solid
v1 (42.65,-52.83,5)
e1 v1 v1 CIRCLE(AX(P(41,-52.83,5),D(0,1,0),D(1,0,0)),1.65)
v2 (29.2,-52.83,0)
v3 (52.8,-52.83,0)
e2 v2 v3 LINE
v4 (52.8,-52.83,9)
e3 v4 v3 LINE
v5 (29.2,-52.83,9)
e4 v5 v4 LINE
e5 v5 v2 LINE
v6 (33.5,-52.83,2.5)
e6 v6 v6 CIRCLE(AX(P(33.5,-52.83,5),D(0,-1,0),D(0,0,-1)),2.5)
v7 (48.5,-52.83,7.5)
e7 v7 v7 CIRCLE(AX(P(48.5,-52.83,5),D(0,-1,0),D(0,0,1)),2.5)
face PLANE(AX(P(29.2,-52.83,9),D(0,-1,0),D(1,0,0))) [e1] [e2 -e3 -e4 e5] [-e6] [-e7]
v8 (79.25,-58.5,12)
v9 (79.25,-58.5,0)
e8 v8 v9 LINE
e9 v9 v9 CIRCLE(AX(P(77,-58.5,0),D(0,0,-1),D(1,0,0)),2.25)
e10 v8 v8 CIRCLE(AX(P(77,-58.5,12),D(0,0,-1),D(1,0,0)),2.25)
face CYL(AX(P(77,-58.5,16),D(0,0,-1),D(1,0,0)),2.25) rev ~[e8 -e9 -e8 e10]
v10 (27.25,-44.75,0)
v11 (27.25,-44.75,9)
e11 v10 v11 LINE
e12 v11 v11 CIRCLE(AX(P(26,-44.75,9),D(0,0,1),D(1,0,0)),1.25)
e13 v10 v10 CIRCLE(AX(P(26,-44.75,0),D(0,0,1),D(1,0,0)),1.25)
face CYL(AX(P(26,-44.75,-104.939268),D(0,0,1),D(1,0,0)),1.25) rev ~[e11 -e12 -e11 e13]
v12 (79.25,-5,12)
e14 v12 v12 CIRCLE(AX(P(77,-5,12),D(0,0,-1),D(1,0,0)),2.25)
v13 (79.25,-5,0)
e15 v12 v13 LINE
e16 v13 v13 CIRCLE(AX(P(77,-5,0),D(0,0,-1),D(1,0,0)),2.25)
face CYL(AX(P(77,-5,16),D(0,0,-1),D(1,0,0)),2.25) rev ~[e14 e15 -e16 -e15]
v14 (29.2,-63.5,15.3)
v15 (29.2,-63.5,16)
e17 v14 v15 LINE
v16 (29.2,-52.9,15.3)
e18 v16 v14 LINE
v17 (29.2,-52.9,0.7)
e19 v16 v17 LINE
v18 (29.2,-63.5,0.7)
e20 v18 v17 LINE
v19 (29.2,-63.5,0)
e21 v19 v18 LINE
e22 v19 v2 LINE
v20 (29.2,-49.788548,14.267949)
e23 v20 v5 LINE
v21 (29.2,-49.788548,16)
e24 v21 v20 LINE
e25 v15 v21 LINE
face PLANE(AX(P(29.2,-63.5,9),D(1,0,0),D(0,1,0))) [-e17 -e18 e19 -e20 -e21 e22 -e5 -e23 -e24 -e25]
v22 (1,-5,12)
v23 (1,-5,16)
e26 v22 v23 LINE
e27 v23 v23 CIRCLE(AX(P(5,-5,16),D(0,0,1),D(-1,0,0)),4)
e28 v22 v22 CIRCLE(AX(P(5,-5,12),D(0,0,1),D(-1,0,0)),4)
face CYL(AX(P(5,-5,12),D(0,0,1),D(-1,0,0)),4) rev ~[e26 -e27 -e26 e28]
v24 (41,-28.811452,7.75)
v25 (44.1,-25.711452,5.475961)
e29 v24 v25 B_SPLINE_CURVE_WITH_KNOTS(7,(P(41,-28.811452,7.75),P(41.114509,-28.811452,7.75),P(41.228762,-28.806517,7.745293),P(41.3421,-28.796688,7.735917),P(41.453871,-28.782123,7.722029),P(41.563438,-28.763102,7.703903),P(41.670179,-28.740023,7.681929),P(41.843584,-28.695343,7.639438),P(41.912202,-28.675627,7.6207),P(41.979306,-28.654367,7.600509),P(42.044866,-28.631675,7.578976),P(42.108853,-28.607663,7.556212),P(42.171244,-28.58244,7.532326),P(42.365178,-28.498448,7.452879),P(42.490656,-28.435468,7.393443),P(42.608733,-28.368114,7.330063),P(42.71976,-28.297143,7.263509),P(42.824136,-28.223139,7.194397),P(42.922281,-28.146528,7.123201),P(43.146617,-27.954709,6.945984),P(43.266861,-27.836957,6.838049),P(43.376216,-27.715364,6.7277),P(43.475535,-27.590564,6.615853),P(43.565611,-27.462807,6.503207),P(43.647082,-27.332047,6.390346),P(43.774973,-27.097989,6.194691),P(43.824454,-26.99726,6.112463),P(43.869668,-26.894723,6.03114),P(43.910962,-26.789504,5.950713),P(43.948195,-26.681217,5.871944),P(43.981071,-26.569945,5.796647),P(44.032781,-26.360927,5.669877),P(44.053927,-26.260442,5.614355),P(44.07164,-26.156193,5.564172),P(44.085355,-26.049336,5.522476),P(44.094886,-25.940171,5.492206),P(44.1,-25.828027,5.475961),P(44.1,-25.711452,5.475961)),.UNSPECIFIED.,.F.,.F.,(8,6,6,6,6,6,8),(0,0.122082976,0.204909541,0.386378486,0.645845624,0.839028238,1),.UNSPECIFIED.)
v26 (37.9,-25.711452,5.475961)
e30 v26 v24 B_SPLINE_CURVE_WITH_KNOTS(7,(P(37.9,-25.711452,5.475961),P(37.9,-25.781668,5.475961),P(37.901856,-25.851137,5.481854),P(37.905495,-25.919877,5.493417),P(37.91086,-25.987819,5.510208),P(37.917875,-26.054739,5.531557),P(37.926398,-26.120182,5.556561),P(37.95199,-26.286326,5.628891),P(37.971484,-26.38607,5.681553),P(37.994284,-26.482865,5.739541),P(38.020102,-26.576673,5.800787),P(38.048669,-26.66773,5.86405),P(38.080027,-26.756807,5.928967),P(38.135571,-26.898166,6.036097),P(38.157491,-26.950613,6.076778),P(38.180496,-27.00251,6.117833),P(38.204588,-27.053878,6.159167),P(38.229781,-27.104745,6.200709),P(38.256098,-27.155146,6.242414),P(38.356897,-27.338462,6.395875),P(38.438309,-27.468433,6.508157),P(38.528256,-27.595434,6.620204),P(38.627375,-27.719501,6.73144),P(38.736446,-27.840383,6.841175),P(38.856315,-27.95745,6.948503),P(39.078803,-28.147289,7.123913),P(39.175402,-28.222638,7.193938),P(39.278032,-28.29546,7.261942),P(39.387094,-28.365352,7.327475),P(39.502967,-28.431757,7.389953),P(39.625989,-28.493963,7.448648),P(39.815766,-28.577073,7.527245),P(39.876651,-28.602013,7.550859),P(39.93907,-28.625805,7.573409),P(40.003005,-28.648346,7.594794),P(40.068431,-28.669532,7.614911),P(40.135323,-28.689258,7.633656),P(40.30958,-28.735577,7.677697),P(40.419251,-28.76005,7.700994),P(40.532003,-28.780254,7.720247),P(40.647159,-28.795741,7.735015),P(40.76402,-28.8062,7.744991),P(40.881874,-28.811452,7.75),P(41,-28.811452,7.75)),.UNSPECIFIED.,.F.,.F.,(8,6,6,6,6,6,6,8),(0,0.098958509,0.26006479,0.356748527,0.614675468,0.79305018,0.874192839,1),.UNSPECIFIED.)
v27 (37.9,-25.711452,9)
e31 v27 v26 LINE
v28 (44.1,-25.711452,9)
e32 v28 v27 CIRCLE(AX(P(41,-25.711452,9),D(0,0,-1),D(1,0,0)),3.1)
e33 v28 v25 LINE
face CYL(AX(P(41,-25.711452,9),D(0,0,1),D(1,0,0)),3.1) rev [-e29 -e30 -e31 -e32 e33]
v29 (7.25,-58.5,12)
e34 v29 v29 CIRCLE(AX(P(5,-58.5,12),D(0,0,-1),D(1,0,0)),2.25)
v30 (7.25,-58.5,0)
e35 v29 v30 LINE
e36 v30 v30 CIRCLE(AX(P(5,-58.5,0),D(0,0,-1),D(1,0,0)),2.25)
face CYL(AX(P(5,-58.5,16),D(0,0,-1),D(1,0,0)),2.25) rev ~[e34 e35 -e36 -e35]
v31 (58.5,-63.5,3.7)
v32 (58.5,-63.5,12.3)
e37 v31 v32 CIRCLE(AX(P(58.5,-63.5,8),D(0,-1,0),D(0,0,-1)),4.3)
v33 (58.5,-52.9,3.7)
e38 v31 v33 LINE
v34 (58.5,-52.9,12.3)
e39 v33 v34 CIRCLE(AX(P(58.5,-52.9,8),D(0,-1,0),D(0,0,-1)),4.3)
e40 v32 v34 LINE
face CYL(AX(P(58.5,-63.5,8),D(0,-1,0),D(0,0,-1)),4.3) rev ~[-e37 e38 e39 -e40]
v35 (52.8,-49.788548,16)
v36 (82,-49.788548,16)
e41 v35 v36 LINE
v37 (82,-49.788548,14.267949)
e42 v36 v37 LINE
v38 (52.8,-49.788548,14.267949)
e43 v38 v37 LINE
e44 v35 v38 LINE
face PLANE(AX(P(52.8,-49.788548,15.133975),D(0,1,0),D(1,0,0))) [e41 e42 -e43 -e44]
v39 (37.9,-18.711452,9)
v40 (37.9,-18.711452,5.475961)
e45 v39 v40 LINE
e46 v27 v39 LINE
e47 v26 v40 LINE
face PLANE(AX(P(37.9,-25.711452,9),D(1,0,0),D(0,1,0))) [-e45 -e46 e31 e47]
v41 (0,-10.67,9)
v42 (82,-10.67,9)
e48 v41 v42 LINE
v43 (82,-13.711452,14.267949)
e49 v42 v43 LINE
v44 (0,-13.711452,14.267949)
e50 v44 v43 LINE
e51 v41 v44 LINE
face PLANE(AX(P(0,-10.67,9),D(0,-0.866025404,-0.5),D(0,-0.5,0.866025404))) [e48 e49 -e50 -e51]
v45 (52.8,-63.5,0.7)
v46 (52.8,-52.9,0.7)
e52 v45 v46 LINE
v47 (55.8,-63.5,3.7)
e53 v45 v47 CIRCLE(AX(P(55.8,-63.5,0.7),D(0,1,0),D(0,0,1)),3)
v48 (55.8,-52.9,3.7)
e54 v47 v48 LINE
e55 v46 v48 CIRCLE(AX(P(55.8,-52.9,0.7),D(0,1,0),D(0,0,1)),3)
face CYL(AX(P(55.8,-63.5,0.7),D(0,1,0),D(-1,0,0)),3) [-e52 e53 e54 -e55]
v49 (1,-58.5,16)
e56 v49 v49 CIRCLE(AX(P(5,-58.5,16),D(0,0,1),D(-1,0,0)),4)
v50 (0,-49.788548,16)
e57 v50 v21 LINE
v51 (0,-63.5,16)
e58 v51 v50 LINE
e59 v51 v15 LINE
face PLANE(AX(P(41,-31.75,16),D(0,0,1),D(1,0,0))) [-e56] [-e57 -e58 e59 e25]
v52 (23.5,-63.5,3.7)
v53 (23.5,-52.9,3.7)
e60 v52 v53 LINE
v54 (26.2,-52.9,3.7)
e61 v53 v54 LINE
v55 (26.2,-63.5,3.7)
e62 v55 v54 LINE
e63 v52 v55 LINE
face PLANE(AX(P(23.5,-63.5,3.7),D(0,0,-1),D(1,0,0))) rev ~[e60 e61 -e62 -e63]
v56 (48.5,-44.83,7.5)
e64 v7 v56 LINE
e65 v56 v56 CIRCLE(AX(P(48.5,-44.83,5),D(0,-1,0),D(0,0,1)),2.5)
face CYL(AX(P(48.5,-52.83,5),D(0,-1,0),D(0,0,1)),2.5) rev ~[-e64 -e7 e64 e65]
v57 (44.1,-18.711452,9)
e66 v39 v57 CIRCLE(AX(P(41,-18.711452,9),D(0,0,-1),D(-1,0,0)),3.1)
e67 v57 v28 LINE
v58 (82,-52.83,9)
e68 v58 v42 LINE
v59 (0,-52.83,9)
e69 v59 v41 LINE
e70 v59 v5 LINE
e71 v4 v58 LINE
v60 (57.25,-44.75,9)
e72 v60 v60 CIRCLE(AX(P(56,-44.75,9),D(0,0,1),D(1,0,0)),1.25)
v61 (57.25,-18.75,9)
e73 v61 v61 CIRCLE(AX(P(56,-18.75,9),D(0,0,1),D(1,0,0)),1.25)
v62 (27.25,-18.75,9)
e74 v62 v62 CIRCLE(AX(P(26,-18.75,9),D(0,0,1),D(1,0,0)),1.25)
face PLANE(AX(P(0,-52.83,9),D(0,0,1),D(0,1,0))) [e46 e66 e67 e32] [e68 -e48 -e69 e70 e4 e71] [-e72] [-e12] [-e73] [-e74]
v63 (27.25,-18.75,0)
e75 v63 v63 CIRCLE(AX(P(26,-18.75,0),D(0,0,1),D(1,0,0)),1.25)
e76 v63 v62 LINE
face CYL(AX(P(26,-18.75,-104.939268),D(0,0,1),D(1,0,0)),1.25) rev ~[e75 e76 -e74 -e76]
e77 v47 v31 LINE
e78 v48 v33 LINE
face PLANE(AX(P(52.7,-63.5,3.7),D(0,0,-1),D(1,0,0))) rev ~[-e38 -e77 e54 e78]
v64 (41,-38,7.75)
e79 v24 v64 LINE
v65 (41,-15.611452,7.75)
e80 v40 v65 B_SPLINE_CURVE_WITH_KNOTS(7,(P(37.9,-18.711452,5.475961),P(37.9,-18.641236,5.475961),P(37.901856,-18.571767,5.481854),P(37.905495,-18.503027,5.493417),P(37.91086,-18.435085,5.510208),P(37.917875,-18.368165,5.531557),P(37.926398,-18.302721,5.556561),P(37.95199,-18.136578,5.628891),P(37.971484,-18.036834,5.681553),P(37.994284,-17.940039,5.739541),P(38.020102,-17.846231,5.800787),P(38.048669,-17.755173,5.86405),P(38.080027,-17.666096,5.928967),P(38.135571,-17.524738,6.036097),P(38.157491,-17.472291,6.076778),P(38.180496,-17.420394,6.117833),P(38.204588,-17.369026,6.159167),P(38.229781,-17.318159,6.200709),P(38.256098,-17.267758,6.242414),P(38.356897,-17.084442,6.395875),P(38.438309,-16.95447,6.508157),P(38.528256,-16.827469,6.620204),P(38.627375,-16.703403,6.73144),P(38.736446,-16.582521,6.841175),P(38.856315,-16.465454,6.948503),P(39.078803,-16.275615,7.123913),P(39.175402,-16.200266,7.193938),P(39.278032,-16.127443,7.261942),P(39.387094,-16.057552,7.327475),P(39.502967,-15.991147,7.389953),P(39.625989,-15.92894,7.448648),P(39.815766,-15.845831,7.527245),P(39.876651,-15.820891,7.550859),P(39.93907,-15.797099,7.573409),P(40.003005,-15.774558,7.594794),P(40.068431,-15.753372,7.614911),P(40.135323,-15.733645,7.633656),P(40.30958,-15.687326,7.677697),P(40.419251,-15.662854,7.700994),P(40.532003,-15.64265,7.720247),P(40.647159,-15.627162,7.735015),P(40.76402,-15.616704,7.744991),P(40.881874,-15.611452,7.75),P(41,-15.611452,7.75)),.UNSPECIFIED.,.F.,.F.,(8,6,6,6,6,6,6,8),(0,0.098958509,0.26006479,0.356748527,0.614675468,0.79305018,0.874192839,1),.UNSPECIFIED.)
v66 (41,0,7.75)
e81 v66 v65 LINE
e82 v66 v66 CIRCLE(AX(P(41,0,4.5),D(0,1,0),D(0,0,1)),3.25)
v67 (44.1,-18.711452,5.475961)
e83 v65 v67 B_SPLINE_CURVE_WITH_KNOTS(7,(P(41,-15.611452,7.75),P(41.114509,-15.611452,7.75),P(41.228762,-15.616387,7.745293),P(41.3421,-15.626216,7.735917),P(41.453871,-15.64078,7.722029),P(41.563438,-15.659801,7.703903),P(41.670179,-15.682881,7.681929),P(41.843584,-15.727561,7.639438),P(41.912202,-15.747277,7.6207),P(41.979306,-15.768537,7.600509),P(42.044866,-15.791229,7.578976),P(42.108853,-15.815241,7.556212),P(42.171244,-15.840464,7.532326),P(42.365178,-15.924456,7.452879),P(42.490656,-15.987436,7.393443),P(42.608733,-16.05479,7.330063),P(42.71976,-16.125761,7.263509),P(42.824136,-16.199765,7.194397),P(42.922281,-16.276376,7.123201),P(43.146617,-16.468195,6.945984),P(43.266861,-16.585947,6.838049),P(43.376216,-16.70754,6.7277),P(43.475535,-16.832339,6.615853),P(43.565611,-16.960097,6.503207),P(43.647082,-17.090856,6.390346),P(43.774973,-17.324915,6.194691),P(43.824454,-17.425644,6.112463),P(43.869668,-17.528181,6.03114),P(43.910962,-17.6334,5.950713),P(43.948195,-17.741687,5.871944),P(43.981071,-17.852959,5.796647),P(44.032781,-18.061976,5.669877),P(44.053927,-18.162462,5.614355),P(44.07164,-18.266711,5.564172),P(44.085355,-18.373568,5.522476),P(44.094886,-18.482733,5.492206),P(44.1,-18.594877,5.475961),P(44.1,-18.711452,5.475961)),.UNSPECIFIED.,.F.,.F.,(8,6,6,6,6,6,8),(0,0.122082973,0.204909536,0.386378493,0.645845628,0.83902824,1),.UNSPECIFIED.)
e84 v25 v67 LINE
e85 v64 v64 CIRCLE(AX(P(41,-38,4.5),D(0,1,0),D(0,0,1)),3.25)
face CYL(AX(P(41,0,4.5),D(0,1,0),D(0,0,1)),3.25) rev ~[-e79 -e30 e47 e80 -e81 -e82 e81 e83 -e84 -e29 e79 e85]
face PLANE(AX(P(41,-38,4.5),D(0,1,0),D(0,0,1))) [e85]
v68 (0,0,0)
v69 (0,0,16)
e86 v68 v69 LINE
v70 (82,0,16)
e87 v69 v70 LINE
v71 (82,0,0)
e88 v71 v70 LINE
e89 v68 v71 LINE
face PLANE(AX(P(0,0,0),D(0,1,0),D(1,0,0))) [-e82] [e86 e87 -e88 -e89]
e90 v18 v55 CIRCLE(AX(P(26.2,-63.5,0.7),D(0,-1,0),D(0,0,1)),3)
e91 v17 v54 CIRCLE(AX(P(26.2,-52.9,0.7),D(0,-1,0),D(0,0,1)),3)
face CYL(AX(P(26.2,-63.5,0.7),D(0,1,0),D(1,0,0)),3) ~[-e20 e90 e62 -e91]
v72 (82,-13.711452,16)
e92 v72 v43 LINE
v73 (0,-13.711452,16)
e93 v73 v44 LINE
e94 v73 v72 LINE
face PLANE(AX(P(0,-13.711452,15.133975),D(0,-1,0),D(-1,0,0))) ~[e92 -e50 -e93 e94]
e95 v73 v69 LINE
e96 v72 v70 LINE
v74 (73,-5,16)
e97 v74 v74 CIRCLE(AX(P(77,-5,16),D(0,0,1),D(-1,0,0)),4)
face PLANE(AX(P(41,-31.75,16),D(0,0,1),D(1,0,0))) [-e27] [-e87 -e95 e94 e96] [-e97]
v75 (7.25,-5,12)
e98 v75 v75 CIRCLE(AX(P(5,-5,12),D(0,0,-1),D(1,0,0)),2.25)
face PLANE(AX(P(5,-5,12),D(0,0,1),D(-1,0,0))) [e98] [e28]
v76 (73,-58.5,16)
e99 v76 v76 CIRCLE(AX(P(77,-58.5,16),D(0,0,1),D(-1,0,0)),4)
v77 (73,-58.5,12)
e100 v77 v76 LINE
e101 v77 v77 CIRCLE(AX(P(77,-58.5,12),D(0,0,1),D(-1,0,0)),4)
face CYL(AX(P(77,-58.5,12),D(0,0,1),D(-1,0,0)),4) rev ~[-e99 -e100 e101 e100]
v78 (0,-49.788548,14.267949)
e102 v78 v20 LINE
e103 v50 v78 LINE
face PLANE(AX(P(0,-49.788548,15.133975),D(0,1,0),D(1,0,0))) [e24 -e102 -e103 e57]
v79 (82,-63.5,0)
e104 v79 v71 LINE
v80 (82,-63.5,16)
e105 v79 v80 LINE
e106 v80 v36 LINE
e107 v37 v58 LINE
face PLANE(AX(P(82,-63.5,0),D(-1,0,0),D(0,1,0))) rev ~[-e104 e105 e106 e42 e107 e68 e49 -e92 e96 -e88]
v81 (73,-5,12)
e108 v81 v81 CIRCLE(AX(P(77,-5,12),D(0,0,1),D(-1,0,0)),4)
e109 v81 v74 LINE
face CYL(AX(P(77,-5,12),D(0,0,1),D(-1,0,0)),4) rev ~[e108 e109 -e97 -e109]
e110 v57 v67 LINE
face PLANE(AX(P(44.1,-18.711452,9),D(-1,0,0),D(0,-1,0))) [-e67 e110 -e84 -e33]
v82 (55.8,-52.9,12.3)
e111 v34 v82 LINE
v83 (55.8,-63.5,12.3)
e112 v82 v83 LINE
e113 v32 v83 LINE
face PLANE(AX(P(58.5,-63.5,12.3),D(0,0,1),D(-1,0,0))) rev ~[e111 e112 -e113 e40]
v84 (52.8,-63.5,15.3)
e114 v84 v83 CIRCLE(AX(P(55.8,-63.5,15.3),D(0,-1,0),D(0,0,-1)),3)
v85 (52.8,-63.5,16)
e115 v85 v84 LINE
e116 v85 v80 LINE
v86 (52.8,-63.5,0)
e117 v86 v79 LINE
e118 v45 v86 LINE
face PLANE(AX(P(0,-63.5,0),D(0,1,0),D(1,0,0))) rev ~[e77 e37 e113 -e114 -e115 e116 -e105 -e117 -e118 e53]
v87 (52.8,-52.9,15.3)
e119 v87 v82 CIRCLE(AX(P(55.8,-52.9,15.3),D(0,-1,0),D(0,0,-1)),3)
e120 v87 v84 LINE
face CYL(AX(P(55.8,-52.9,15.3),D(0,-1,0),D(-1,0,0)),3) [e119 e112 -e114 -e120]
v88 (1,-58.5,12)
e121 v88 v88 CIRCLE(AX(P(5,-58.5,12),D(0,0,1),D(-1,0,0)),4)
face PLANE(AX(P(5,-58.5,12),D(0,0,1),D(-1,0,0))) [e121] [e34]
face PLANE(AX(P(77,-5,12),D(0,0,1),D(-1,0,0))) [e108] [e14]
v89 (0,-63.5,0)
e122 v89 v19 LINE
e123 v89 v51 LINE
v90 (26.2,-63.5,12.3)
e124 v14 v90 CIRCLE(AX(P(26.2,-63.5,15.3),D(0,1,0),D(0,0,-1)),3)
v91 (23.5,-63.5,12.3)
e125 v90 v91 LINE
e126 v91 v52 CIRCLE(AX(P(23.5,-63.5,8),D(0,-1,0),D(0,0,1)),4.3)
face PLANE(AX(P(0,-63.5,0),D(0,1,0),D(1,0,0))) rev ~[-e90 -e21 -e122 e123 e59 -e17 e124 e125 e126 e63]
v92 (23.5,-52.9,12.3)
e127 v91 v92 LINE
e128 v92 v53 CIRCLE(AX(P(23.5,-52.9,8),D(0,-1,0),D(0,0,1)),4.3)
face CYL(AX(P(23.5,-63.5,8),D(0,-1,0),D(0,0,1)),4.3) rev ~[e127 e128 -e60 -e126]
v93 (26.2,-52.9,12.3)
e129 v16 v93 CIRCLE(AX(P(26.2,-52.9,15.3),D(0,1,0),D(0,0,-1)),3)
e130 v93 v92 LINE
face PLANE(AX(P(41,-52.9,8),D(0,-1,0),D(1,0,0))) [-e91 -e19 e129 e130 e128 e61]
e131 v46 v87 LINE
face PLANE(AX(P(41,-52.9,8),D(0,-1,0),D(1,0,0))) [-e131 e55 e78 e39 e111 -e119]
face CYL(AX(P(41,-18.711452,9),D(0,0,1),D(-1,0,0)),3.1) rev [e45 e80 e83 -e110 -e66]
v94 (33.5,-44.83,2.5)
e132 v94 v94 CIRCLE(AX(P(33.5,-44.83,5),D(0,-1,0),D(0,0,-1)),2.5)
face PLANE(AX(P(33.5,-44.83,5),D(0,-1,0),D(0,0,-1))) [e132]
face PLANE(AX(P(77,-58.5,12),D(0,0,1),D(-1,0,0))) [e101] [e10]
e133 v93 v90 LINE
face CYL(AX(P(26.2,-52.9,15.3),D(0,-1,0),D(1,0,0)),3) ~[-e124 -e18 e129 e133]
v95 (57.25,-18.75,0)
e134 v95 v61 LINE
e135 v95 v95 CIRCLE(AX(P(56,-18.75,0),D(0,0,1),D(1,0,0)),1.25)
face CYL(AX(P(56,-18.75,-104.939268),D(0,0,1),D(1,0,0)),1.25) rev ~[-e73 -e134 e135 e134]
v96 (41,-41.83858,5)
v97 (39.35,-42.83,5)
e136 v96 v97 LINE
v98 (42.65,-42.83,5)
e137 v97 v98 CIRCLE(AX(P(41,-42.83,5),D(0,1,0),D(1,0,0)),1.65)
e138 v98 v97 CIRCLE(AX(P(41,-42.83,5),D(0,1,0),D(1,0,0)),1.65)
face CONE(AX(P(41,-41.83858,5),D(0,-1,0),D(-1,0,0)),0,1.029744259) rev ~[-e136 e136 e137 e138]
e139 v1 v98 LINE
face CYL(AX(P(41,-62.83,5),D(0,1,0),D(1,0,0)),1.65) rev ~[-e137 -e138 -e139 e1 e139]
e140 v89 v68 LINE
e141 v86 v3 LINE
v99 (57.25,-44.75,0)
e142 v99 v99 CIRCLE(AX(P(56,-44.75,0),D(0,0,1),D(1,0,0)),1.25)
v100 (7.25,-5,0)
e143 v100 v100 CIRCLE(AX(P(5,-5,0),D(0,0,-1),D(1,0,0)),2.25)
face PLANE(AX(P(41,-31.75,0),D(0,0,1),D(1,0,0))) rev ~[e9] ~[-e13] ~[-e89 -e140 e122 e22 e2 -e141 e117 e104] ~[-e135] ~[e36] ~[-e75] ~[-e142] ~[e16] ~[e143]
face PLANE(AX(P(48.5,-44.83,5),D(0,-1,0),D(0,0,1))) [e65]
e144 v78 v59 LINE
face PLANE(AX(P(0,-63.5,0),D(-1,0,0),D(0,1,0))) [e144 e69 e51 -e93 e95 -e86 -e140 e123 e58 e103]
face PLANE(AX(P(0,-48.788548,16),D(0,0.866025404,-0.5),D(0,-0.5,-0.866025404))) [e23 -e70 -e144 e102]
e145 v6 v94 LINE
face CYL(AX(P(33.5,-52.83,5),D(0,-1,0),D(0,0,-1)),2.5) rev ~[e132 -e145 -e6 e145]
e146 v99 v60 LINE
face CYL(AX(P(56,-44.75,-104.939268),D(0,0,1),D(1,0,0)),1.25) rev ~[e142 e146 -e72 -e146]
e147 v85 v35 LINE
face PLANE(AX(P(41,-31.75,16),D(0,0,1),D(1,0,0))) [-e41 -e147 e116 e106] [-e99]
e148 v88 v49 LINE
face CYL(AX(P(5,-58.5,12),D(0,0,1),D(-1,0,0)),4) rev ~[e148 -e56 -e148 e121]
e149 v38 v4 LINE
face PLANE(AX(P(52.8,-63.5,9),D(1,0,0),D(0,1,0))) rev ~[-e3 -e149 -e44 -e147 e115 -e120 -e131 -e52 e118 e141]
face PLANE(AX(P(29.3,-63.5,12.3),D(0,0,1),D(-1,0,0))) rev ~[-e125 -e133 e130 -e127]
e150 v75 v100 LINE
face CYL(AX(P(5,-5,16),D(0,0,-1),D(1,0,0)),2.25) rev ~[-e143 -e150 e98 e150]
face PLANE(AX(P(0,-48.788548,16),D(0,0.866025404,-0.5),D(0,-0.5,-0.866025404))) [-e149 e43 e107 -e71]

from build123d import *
from OCP.BRepFilletAPI import BRepFilletAPI_MakeChamfer

# Parameters (mm, degrees)
SKETCH_1_W                  = 82
SKETCH_1_H                  = 63.5
EXTRUDE_1_DEPTH             = 16
CUT_EXTRUDE_1_DEPTH         = 105.939268151
SKETCH_15_W                 = 23.6
SKETCH_15_H                 = 14.711451884
CUT_EXTRUDE_4_DEPTH         = 7
SKETCH_16_W                 = 23.6
SKETCH_16_H                 = 10.67
CUT_EXTRUDE_5_DEPTH         = 9
SKETCH_17_R                 = 2.5
CUT_EXTRUDE_6_DEPTH         = 8
M4X0_72_D                   = 3.3
M4X0_72_DEPTH               = 10
M4X0_72_TIP                 = 0.991420021
CUT_EXTRUDE_7_DEPTH         = 4
SKETCH_26_R                 = 3.25
CUT_EXTRUDE_8_DEPTH         = 38
HOLE_WIZARD_M41_D           = 4.5
HOLE_WIZARD_M41_CBORE_D     = 8
HOLE_WIZARD_M41_CBORE_DEPTH = 4
CHAMFER_2_SIZE              = 1
CHAMFER_2_SIZE2             = 2
CUT_EXTRUDE_12_DEPTH        = 10.6
FILLET_1_R                  = 3
M3X0_51_D                   = 2.5


with BuildPart() as part:
    # Эскиз1 → Бобышка-Вытянуть1 (new body)
    with BuildSketch(Plane.XY):
        with Locations((41, -31.75)):
            Rectangle(SKETCH_1_W, SKETCH_1_H)
    extrude(amount=EXTRUDE_1_DEPTH)

    # Эскиз2 → Вырез-Вытянуть1 (cut, through all)
    with BuildSketch(Plane.ZY):
        Polygon((9, -10.67), (16, -14.711451884), (16, -48.788548116), (9, -52.83), align=None)
    extrude(amount=-CUT_EXTRUDE_1_DEPTH, mode=Mode.SUBTRACT)

    # Эскиз15 → Вырез-Вытянуть4 (cut)
    with BuildSketch(Plane.XY.offset(16)):
        with Locations((41, -56.144274058)):
            Rectangle(SKETCH_15_W, SKETCH_15_H)
    extrude(amount=-CUT_EXTRUDE_4_DEPTH, mode=Mode.SUBTRACT)

    # Эскиз16 → Вырез-Вытянуть5 (cut)
    with BuildSketch(Plane.XY.offset(9)):
        with Locations((41, -58.165)):
            Rectangle(SKETCH_16_W, SKETCH_16_H)
    extrude(amount=-CUT_EXTRUDE_5_DEPTH, mode=Mode.SUBTRACT)

    # Эскиз17 → Вырез-Вытянуть6 (cut)
    with BuildSketch(Plane.XZ.offset(52.83)):
        with Locations(Location((33.5, 5, 0), (0, 0, 270))):
            Circle(SKETCH_17_R)
        with Locations(Location((48.5, 5, 0), (0, 0, 90))):
            Circle(SKETCH_17_R)
    extrude(amount=-CUT_EXTRUDE_6_DEPTH, mode=Mode.SUBTRACT)

    # Отверстие обработанное метчиком M4x0.72
    with Locations(Plane(origin=(0, -52.83, 0), x_dir=(-1, 0, 0), z_dir=(0, -1, 0))):
        with Locations((-41, -5)):
            Hole(M4X0_72_D / 2, depth=M4X0_72_DEPTH)
            with Locations((0, 0, -(M4X0_72_DEPTH + M4X0_72_TIP / 2))):  # 118° drill point
                Cone(0, M4X0_72_D / 2, M4X0_72_TIP, mode=Mode.SUBTRACT)

    # Эскиз25 → Вырез-Вытянуть7 (cut)
    with BuildSketch(Plane.XY.offset(9)):
        with BuildLine():
            Line((44.1, -18.711451884), (44.1, -25.711451884))
            ThreePointArc((44.1, -25.711451884), (41, -28.811451884), (37.9, -25.711451884))
            Line((37.9, -25.711451884), (37.9, -18.711451884))
            ThreePointArc((37.9, -18.711451884), (41, -15.611451884), (44.1, -18.711451884))
        make_face()
    extrude(amount=-CUT_EXTRUDE_7_DEPTH, mode=Mode.SUBTRACT)

    # Эскиз26 → Вырез-Вытянуть8 (cut)
    with BuildSketch(Plane(origin=(0, 0, 0), x_dir=(1, 0, 0), z_dir=(0, 1, 0))):
        with Locations(Location((41, -4.5, 0), (0, 0, 270))):
            Circle(SKETCH_26_R)
    extrude(amount=-CUT_EXTRUDE_8_DEPTH, mode=Mode.SUBTRACT)

    # Цековка для винта с внутренним шестигранником M41 (through all)
    with Locations(Plane(origin=(30.759227947, 26.793365177, 16), x_dir=(-1, 0, 0), z_dir=(0, 0, 1))):
        with Locations((-46.240772053, 31.793365177), (-46.240772053, 85.293365177), (25.759227947, 85.293365177), (25.759227947, 31.793365177)):
            CounterBoreHole(HOLE_WIZARD_M41_D / 2, HOLE_WIZARD_M41_CBORE_D / 2, HOLE_WIZARD_M41_CBORE_DEPTH)

    # Фаска2: one chamfer whose edges measure the first distance from different faces: ONE call of the kernel's chamfer builder (chamfer() names one face for all edges)
    chamfer_2_edges_1 = [part.edges().sort_by_distance(p)[0] for p in [
        (41, -14.711451884, 16),
    ]]
    chamfer_2_side_1 = [part.faces().sort_by_distance(p)[0] for p in [
        (41, -7.569889145, 16),
    ]]
    chamfer_2_edges_2 = [part.edges().sort_by_distance(p)[0] for p in [
        (67.4, -48.788548116, 16),
    ]]
    chamfer_2_side_2 = [part.faces().sort_by_distance(p)[0] for p in [
        (66.127821531, -55.832096576, 16),
    ]]
    chamfer_2_edges_3 = [part.edges().sort_by_distance(p)[0] for p in [
        (14.6, -48.788548116, 16),
    ]]
    chamfer_2_side_3 = [part.faces().sort_by_distance(p)[0] for p in [
        (15.872178469, -55.832096576, 16),
    ]]
    chamfer_2 = BRepFilletAPI_MakeChamfer(part.part.solid().wrapped)
    for e in chamfer_2_edges_1:
        chamfer_2.Add(CHAMFER_2_SIZE, CHAMFER_2_SIZE2, e.wrapped, chamfer_2_side_1[0].wrapped)  # the first distance lies on this face
    for e in chamfer_2_edges_2:
        chamfer_2.Add(CHAMFER_2_SIZE, CHAMFER_2_SIZE2, e.wrapped, chamfer_2_side_2[0].wrapped)  # the first distance lies on this face
    for e in chamfer_2_edges_3:
        chamfer_2.Add(CHAMFER_2_SIZE, CHAMFER_2_SIZE2, e.wrapped, chamfer_2_side_3[0].wrapped)  # the first distance lies on this face
    add(Compound.cast(chamfer_2.Shape()), mode=Mode.REPLACE)

    # Эскиз32 → Вырез-Вытянуть12 (cut)
    with BuildSketch(Plane.XZ.offset(63.5)):
        with BuildLine():
            Line((52.7, -0.2), (52.7, 3.7))
            Line((52.7, 3.7), (58.5, 3.7))
            ThreePointArc((58.5, 3.7), (62.8, 8), (58.5, 12.3))
            Line((58.5, 12.3), (52.7, 12.3))
            Line((52.7, 12.3), (52.7, 16.2))
            Line((52.7, 16.2), (29.3, 16.2))
            Line((29.3, 16.2), (29.3, 12.3))
            Line((29.3, 12.3), (23.5, 12.3))
            ThreePointArc((23.5, 12.3), (19.2, 8), (23.5, 3.7))
            Line((23.5, 3.7), (29.3, 3.7))
            Line((29.3, 3.7), (29.3, -0.2))
            Line((29.3, -0.2), (52.7, -0.2))
        make_face()
    extrude(amount=-CUT_EXTRUDE_12_DEPTH, mode=Mode.SUBTRACT)

    # Скругление1
    fillet_1_edges = [part.edges().sort_by_distance(p)[0] for p in [
        (52.8, -58.2, 3.7),
        (52.8, -58.2, 12.3),
        (29.2, -58.2, 12.3),
        (29.2, -58.2, 3.7),
    ]]
    fillet(fillet_1_edges, radius=FILLET_1_R)

    # Отверстие обработанное метчиком M3x0.51 (through all)
    with Locations(Plane(origin=(0, 0, 0), x_dir=(-1, 0, 0), z_dir=(0, 0, -1))):
        with Locations((-26, -44.75), (-26, -18.75), (-56, -18.75), (-56, -44.75)):
            Hole(M3X0_51_D / 2)


solid = part.part
